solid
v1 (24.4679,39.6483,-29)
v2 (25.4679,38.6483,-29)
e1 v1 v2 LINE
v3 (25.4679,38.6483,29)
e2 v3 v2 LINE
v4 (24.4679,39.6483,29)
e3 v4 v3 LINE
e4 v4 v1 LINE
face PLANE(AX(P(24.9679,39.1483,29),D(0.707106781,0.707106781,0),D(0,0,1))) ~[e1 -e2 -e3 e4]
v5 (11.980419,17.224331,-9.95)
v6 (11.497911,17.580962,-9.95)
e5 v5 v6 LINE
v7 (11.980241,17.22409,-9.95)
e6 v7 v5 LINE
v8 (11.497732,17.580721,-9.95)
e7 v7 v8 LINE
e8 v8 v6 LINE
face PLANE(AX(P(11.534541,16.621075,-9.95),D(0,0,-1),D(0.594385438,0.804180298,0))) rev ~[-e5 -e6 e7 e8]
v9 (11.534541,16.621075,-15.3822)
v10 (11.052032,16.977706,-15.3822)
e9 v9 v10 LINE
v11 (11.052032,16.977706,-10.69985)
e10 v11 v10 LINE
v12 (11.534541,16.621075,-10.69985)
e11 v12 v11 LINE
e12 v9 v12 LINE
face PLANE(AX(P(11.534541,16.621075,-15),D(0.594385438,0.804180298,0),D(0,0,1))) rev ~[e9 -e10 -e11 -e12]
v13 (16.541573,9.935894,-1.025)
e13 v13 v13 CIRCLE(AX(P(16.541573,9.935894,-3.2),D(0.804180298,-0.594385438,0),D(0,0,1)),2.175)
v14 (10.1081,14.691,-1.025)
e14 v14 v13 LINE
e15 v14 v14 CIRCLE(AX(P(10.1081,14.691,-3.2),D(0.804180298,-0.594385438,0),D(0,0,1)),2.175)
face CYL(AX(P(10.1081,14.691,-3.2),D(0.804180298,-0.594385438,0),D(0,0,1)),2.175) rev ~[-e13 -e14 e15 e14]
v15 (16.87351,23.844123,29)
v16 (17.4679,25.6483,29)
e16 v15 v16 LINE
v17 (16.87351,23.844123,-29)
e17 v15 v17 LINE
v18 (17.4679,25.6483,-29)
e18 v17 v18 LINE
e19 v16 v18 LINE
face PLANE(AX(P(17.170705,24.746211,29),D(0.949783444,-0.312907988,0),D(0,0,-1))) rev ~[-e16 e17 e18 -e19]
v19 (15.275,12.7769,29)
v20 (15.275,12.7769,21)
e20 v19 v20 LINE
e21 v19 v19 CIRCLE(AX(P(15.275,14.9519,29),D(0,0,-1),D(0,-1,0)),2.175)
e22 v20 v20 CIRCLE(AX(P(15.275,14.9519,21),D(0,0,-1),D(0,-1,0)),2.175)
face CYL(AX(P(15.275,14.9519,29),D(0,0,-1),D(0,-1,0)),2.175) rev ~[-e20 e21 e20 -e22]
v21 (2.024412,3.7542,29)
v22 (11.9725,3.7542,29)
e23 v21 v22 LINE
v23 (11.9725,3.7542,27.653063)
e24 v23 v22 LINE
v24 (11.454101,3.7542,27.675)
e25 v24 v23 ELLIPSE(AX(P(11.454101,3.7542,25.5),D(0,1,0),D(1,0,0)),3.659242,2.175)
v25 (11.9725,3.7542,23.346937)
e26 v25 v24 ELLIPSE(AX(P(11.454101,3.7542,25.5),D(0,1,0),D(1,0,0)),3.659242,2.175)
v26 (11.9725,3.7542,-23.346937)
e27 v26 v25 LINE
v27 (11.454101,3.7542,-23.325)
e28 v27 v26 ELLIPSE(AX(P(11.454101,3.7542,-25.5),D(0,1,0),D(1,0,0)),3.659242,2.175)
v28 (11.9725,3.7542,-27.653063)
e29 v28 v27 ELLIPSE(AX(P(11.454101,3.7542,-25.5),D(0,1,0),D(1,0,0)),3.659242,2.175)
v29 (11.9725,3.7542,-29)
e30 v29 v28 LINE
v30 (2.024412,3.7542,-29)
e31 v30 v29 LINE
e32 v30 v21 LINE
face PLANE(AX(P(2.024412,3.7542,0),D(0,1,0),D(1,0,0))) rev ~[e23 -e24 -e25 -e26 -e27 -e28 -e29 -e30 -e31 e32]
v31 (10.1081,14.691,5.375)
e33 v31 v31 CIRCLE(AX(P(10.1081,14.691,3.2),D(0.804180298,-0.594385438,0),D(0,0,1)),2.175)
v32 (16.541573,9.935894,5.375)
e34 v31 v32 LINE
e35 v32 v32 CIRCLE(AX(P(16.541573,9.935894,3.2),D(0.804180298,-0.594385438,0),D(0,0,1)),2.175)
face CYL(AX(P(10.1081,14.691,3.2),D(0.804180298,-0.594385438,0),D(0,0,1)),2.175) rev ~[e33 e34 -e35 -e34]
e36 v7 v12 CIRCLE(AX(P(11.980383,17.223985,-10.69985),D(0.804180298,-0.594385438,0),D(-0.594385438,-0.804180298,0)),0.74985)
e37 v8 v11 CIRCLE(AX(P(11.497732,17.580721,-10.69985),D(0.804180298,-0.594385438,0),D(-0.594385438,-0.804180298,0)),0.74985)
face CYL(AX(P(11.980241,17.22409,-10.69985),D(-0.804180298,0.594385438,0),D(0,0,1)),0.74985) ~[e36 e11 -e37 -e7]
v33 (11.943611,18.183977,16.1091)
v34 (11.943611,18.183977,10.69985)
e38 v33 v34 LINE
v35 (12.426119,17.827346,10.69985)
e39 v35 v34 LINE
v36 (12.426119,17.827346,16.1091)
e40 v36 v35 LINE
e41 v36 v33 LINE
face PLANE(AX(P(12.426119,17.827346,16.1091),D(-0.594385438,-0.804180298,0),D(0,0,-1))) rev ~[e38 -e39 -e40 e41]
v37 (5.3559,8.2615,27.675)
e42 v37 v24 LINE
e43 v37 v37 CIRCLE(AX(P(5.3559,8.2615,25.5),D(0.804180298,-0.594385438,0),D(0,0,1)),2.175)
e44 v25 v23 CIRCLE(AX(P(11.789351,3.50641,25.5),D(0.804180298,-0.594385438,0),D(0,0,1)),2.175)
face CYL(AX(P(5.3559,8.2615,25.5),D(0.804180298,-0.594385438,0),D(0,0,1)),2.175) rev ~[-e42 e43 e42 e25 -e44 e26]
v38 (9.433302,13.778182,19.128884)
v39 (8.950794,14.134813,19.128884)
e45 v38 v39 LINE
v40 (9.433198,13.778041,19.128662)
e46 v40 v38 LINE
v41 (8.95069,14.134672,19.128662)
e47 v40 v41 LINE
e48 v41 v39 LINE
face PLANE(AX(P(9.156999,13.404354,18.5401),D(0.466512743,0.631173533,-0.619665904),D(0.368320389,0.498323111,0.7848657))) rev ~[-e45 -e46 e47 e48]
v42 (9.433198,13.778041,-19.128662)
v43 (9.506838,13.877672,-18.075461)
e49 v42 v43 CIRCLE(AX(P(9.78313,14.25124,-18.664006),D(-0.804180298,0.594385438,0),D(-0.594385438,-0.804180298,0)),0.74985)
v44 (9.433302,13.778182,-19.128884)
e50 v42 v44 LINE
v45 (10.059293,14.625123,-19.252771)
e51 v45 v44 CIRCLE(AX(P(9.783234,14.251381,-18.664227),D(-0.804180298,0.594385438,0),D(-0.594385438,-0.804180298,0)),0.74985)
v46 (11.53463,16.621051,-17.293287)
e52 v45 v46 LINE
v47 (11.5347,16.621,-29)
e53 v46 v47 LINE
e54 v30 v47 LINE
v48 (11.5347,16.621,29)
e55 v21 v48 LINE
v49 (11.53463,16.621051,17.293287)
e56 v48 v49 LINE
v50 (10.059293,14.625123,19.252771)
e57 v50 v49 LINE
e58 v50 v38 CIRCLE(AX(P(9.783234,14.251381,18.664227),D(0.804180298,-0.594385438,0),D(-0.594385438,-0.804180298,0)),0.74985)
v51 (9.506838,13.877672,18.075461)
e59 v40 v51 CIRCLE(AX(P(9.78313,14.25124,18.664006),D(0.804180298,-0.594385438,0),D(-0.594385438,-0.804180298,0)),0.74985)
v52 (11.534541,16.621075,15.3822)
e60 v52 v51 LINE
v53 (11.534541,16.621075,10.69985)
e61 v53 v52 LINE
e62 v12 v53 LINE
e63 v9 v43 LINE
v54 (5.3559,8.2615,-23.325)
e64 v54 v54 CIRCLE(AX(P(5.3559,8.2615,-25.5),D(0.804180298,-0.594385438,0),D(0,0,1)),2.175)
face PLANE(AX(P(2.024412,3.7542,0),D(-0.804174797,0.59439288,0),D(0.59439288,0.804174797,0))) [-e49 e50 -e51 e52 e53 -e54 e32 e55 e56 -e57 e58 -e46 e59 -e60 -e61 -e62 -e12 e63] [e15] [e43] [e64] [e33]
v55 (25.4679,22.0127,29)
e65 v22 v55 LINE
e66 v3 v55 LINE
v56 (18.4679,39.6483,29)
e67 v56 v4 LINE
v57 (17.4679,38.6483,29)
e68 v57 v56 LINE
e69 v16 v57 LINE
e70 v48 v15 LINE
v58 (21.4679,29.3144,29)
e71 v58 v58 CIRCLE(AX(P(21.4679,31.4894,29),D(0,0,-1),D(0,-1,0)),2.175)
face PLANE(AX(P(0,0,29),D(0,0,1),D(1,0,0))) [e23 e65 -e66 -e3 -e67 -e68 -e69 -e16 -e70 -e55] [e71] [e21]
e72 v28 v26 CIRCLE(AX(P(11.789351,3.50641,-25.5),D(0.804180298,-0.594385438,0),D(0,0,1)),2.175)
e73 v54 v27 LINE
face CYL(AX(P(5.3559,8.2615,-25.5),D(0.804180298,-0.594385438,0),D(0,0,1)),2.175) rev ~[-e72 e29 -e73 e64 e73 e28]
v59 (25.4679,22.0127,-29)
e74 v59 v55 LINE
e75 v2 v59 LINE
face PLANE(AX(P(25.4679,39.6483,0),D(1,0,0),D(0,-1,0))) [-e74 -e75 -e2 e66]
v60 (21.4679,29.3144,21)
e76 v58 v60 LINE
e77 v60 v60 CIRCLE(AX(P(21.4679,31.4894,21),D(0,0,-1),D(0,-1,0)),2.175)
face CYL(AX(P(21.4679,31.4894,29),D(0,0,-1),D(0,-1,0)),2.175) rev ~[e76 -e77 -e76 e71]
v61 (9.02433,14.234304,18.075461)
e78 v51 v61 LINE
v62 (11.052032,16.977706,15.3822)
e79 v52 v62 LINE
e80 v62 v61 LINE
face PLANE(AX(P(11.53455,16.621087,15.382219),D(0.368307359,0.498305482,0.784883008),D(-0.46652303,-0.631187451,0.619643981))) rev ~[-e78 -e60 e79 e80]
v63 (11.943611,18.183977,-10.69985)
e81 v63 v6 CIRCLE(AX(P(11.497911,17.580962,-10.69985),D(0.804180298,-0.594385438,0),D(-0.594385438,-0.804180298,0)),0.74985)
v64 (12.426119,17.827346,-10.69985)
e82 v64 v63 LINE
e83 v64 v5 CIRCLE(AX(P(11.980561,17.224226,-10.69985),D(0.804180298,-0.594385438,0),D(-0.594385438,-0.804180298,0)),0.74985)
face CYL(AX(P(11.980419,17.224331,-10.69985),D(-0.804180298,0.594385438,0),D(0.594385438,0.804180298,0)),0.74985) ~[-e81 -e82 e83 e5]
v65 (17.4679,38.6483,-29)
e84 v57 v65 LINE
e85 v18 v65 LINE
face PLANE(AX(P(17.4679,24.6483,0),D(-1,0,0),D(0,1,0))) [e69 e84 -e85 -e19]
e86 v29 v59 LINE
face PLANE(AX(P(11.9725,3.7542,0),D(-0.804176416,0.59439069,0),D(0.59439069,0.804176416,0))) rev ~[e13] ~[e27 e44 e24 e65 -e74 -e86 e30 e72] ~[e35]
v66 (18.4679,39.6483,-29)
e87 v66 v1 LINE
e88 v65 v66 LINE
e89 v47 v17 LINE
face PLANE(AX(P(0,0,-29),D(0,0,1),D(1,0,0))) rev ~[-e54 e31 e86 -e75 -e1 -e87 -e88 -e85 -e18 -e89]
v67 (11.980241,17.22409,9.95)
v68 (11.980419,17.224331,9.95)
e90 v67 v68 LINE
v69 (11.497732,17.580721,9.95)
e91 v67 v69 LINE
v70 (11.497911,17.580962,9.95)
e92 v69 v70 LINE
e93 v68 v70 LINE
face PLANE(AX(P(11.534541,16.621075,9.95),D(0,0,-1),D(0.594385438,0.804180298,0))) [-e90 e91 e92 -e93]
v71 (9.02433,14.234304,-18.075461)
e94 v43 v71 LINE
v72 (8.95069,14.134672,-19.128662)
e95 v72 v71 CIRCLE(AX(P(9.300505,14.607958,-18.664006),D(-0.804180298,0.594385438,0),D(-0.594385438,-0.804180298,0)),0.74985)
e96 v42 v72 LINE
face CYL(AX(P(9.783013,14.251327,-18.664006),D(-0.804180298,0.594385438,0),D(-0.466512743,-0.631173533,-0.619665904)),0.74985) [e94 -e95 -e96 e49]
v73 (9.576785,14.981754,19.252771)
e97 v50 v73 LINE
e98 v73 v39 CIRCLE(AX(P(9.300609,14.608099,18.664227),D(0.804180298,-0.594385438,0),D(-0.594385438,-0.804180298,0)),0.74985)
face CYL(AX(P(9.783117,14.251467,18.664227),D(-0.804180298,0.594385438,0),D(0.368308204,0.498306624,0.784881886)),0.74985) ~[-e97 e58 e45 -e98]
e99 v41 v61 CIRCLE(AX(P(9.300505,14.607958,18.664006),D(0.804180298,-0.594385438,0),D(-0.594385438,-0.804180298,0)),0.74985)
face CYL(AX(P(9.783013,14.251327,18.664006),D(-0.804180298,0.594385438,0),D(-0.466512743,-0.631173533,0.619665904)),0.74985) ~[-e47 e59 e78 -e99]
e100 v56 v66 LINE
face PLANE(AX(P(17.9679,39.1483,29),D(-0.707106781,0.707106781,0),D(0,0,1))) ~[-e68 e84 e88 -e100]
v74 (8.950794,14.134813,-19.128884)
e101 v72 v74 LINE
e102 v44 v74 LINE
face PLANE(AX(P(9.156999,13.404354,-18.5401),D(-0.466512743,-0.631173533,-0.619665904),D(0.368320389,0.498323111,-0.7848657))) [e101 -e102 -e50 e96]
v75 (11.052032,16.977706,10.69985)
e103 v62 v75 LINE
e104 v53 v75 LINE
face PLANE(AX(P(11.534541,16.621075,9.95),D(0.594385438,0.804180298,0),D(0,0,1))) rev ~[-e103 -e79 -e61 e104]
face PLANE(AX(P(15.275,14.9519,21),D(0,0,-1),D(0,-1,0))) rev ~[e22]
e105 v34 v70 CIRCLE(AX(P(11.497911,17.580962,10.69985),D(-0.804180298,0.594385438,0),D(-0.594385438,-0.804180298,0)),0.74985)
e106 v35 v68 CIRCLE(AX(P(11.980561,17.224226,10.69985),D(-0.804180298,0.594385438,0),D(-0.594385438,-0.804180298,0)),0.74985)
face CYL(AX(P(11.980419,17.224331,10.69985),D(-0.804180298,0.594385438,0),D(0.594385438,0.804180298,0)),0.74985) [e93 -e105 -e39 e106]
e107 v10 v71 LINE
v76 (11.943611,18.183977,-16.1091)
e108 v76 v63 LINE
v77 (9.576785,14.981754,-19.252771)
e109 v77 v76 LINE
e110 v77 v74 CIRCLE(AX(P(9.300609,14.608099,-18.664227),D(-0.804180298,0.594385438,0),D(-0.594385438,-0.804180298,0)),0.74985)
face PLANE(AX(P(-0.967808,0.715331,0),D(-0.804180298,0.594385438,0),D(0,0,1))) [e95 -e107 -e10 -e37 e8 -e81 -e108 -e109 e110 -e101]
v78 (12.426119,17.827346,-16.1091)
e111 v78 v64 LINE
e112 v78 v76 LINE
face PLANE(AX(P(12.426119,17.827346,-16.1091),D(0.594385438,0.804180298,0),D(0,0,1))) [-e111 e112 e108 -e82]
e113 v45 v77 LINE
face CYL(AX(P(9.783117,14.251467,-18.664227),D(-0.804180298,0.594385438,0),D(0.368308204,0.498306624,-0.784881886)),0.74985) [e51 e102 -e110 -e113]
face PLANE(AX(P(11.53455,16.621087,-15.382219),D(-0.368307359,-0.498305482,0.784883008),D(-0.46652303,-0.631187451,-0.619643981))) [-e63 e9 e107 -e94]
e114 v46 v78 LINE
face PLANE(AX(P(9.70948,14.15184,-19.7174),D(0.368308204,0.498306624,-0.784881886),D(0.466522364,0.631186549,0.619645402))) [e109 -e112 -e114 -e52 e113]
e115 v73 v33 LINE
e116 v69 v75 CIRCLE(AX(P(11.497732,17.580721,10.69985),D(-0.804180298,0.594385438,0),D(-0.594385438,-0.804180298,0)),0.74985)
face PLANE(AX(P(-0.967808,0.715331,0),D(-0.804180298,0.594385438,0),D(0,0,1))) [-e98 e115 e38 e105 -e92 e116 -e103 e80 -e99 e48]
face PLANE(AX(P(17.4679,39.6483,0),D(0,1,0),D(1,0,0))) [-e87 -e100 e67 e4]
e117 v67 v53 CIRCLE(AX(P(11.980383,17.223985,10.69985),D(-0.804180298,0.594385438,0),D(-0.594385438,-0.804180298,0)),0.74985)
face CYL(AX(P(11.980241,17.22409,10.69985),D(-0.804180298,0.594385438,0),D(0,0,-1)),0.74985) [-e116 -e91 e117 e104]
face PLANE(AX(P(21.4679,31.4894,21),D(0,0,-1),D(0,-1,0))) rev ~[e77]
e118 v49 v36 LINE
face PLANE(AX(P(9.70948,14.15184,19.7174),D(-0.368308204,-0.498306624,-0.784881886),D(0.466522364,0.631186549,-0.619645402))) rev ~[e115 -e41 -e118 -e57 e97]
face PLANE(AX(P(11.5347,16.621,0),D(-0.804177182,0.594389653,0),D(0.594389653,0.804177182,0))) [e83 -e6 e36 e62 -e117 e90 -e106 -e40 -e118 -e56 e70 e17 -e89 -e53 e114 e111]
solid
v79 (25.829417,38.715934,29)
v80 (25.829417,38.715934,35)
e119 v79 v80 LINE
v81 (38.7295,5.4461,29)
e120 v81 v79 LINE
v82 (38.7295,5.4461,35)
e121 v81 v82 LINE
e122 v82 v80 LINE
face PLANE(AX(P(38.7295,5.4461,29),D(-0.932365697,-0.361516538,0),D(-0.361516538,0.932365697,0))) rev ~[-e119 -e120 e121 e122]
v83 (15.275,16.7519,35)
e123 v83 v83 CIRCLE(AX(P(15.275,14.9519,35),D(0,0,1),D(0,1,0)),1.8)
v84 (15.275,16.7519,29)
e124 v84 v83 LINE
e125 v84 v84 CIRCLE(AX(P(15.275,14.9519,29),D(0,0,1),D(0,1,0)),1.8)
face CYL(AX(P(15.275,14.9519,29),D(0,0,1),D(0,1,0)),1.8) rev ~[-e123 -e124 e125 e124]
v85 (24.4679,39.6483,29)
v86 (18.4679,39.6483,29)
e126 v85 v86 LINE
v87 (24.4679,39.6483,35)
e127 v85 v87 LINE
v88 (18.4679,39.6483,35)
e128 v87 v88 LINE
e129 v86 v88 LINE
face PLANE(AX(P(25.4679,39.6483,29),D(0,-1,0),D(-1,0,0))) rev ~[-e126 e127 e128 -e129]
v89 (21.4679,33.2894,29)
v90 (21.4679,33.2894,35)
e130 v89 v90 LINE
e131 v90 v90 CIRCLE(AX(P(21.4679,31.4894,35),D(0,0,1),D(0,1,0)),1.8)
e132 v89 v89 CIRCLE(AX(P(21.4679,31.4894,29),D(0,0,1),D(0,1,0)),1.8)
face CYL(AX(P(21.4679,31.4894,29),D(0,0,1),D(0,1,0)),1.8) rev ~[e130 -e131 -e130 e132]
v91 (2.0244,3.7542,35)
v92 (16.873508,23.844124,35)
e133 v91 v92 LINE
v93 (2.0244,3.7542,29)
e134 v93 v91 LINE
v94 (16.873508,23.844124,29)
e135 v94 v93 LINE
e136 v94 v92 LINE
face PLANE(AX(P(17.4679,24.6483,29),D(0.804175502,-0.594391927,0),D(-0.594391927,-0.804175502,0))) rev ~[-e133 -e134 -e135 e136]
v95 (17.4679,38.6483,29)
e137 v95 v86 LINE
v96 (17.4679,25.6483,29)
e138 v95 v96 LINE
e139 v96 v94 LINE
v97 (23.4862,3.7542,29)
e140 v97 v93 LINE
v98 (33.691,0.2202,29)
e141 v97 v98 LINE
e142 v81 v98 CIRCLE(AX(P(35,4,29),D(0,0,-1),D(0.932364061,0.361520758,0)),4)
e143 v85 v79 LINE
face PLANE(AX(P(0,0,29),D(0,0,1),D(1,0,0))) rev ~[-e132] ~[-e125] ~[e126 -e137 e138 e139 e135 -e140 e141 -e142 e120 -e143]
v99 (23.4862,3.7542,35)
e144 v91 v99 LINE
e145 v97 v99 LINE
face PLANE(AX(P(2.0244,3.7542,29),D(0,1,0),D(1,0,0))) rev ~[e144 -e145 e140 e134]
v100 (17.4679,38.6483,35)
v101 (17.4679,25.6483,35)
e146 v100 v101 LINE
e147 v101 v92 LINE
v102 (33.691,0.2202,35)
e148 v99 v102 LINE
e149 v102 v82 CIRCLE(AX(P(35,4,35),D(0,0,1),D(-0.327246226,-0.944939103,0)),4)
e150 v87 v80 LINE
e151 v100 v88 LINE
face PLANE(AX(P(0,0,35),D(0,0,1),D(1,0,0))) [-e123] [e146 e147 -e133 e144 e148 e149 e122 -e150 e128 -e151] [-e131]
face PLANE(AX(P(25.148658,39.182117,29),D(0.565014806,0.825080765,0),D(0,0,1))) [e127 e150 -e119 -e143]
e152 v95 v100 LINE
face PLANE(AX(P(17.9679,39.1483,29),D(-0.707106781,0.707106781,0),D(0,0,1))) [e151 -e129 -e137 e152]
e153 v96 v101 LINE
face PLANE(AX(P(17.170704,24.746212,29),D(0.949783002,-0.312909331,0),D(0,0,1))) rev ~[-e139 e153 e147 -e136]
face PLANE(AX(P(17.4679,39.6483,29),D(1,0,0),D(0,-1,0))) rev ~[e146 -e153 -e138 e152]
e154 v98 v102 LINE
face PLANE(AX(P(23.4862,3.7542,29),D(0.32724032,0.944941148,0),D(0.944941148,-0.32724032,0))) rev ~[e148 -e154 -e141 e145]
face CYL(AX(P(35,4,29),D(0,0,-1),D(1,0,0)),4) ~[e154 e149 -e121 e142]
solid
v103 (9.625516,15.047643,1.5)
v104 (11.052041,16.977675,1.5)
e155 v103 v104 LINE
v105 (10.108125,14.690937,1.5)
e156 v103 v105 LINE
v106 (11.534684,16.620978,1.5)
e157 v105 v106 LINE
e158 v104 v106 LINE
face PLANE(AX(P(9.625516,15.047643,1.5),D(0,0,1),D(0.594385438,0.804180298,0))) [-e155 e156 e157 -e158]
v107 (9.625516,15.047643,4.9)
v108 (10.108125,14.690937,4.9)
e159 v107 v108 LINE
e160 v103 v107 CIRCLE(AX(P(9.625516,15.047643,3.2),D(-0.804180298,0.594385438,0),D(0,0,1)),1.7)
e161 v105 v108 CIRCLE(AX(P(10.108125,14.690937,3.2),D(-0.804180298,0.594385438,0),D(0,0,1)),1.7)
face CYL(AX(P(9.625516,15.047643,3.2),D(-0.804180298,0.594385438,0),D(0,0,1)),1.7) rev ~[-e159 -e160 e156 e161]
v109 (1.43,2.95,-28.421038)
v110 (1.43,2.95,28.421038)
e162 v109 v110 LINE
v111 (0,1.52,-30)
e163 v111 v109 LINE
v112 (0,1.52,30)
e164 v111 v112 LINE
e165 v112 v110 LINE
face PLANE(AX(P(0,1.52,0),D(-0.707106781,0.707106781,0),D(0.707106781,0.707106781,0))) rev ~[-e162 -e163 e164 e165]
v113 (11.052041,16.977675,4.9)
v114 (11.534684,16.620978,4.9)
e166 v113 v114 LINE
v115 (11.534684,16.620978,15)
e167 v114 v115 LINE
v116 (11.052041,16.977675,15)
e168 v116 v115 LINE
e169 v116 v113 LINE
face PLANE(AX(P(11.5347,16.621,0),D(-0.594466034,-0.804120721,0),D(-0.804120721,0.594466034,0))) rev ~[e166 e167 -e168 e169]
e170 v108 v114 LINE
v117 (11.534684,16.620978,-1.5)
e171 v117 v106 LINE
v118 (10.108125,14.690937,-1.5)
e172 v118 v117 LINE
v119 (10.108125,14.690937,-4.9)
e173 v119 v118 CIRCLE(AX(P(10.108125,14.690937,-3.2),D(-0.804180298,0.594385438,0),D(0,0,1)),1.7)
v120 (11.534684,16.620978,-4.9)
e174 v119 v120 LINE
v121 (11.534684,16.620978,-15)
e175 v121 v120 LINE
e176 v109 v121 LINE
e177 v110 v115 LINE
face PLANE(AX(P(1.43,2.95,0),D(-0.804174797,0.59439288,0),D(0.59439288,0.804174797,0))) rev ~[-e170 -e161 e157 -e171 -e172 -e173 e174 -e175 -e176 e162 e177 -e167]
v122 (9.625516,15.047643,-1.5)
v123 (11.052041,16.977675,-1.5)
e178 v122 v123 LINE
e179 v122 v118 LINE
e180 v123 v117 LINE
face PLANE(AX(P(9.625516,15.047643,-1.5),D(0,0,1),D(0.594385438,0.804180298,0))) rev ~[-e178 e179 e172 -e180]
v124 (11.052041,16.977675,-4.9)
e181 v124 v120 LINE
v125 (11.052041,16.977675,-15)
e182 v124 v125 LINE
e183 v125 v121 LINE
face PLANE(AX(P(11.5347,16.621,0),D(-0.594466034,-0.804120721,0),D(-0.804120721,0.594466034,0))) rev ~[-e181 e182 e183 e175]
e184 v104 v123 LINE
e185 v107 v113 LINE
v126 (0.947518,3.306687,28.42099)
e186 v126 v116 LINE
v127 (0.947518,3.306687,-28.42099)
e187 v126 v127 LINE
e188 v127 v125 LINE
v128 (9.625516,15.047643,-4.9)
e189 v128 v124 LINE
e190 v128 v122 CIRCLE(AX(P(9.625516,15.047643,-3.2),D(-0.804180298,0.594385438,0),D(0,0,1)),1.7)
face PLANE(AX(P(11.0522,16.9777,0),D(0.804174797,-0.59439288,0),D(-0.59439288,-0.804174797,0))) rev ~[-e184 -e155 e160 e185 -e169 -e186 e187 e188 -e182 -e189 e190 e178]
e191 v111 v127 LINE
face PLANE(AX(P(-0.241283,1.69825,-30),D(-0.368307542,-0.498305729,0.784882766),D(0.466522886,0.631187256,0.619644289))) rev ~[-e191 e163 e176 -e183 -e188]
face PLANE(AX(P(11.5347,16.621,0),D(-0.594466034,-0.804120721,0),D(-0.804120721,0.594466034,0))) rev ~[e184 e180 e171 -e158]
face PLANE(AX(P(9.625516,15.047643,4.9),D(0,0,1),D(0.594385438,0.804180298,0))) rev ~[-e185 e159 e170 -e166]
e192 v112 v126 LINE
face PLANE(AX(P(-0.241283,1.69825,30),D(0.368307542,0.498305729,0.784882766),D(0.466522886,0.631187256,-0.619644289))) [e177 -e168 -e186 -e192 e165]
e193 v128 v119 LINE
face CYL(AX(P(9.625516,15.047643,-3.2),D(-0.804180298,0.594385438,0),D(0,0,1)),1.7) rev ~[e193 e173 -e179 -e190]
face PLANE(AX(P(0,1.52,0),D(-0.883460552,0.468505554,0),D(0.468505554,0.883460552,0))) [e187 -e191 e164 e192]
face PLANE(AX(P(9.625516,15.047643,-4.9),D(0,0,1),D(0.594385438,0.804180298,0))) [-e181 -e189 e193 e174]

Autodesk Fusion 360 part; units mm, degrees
sketch "Blade Stock Layout and Angle setting" plane through (0, 0, 0) normal (0, 0, 1) x (1, 0, 0) in component "Blade"
  line L0 (0, 1.52) -> (0.9475, 3.3067)
  line L1 (0, 1.52) -> (1.43, 2.95)
  line L2 (0.9475, 3.3067) -> (1.43, 2.95) construction
  line L3 (1.43, 2.95) -> (11.5347, 16.621)
  line L4 (11.5347, 16.621) -> (11.0522, 16.9777)
  line L5 (11.0522, 16.9777) -> (0.9475, 3.3067)
  line L6 (0, 1.52) -> (0, 0) construction
  line L7 (0, 0) -> (17.3611, 0) construction
  dimension "d6" = 1.52
  dimension "d8" = 0.6
  dimension "d9" = 2
  dimension "d10" = 19
  dimension "d11" = 45
extrude "Blade Stock" add sketch "Blade Stock Layout and Angle setting" along normal mid plane 60 makes body 1 in component "Blade"
sketch "Blade profile" plane through (-0.9678, 0.7153, 0) normal (-0.8042, 0.5944, 0) x (0, 0, 1) in component "Blade"
  line L0 (-30, 20.2223) -> (-30, 3.2223)
  line L1 (-30, 3.2223) -> (30, 3.2223) construction
  line L2 (30, 3.2223) -> (30, 20.2223)
  line L3 (30, 20.2223) -> (-30, 20.2223)
  line L4 (0, 20.2223) -> (0, 3.2223) construction
  line L5 (30, 1.2223) -> (15, 20.2223)
  circle A0 centre (3.2, 17.8223) radius 1.7
  line L6 (1.5, 17.8223) -> (1.5, 20.2223)
  line L7 (4.9, 17.8223) -> (4.9, 20.2223)
  line L8 (3.2, 20.2223) -> (3.2, 16.1223) construction
  circle A1 centre (-3.2, 17.8223) radius 1.7
  line L9 (-1.5, 17.8223) -> (-1.5, 20.2223)
  line L10 (-4.9, 17.8223) -> (-4.9, 20.2223)
  line L11 (-30, 1.2223) -> (-15, 20.2223)
  line L12 (30, 1.2223) -> (30, 3.2223)
  line L13 (-30, 1.2223) -> (-30, 3.2223)
  point P0 (30, 1.2223)
  dimension "d20" = 15
  dimension "d21" = 3.4
  dimension "d22" = 1.5
  dimension "d23" = 4.1
extrude "Blaade profile" cut sketch "Blade profile" against normal through all bodies 1 in component "Blade"
sketch "Blade Holder Stock Layout" plane through (0, 0, 0) normal (0, 0, 1) x (1, 0, 0) in component "Blade Holder"
  line L0 (0.9475, 3.3067) -> (0, 1.52)
  line L1 (0, 1.52) -> (1.43, 2.95)
  line L2 (1.43, 2.95) -> (11.5347, 16.621)
  line L3 (11.5347, 16.621) -> (11.0522, 16.9777)
  line L4 (11.0522, 16.9777) -> (0.9475, 3.3067)
  line L5 (1.2783, 3.7542) -> (11.9725, 3.7542)
  line L6 (11.9725, 3.7542) -> (25.4679, 22.0127)
  line L7 (11.5347, 16.621) -> (17.4679, 24.6483)
  line L8 (17.4679, 24.6483) -> (17.4679, 39.6483)
  line L9 (17.4679, 39.6483) -> (25.4679, 39.6483)
  line L10 (25.4679, 39.6483) -> (25.4679, 22.0127)
  line L11 (17.4679, 24.6483) -> (25.4679, 24.6483) construction
  line L12 (17.4679, 24.6483) -> (23.9013, 19.8932) construction
  line L13 (11.5347, 16.621) -> (1.43, 2.95)
  point P0 (2.0244, 3.7542)
  dimension "d30" = 8
  dimension "d31" = 15
  dimension "d32" = 10
  dimension "d40" = 1
extrude "Blade Holder Stock" add sketch "Blade Holder Stock Layout" along normal mid plane 58 separate body contours L2 L5 L6 L7 L8 L9 L10 L13 makes body 2 in component "Blade Holder"
sketch "Blade holder lateral stops layout" plane through (-0.4853, 0.3587, 0) normal (-0.8042, 0.5944, 0) x (0, 0, 1) in component "Blade Holder"
  line L0 (-29, 4.2223) -> (29, 4.2223)
  line L1 (29, 4.2223) -> (29, 30.2043)
  line L2 (-29, 30.2043) -> (-29, 4.2223)
  line L3 (28.4211, 3.2223) -> (15, 20.2223)
  line L4 (14.9301, 20.795) -> (28.0138, 4.2223)
  line L5 (0, 1.4073) -> (0, 18.094)
  line L6 (-14.9301, 20.795) -> (-28.0138, 4.2223)
  circle A0 centre (25.5, 9.8272) radius 1.5 construction
  line L7 (25.5, 9.8272) -> (27, 9.8272) construction
  line L8 (27, 9.8272) -> (29, 9.8272) construction
  line L9 (29, 30.2043) -> (-29, 30.2043)
  line L10 (4.9, 20.2223) -> (15, 20.2223)
  line L11 (-1.5, 20.2223) -> (1.5, 20.2223) construction
  line L12 (-15, 20.2223) -> (-4.9, 20.2223)
  line L13 (4.9, 20.2223) -> (1.5, 20.2223) construction
  line L14 (-1.5, 20.2223) -> (-4.9, 20.2223) construction
  line L15 (15, 20.2223) -> (15.3822, 20.2223)
  line L16 (-15, 20.2223) -> (-15.3822, 20.2223)
  line L17 (18.5401, 16.2223) -> (19.7174, 17.1518)
  line L18 (19.7174, 17.1518) -> (16.1091, 21.7223)
  line L19 (16.1091, 21.7223) -> (0, 21.7223)
  line L20 (0, 21.7223) -> (0, 20.2223) construction
  line L21 (-16.1091, 21.7223) -> (0, 21.7223)
  line L22 (-19.7174, 17.1518) -> (-16.1091, 21.7223)
  line L23 (-18.5401, 16.2223) -> (-19.7174, 17.1518)
  line L24 (9.95, 20.2223) -> (9.95, 21.7223)
  line L25 (-9.95, 20.2223) -> (-9.95, 21.7223)
  dimension "d42" = 0.3
  dimension "d93" = 3
  dimension "d94" = 2
  dimension "d95" = 1.5
  dimension "d97" = 4
extrude "Extrude3" add sketch "Blade holder lateral stops layout" along normal up to surface (0.6 mm away) contours L6 L12 L16 L21 L22 L23 L25 | L4 L10 L15 L17 L18 L19 L24 bodies 2 in component "Blade Holder"
sketch "Blade hole layout in holder" plane through (-0.4853, 0.3587, 0) normal (-0.8042, 0.5944, 0) x (0, 0, 1) in component "Blade Holder"
  line L0 (-29, 4.2223) -> (29, 4.2223)
  arc A0 (-4.9, 17.8223) -> (-1.5, 17.8223) centre (-3.2, 17.8223) ccw
  arc A1 (1.5, 17.8223) -> (4.9, 17.8223) centre (3.2, 17.8223) ccw
  line L1 (-29, 30.2043) -> (-29, 4.2223)
  circle A2 centre (25.5, 9.8272) radius 1.5 construction
  line L2 (0, 1.4073) -> (0, 18.094)
  circle A3 centre (-25.5, 9.8272) radius 1.5 construction
  line L3 (29, 4.2223) -> (29, 30.2043)
  line L4 (29, 30.2043) -> (-29, 30.2043)
  line L5 (15.3822, 20.2223) -> (9.95, 20.2223)
  line L6 (9.95, 20.2223) -> (9.95, 21.7223)
  line L7 (9.95, 21.7223) -> (16.1091, 21.7223)
  line L8 (16.1091, 21.7223) -> (19.7174, 17.1518)
  line L9 (-19.7174, 17.1518) -> (-16.1091, 21.7223)
  line L10 (-16.1091, 21.7223) -> (-9.95, 21.7223)
  line L11 (-9.95, 21.7223) -> (-9.95, 20.2223)
  line L12 (-9.95, 20.2223) -> (-15.3822, 20.2223)
  line L13 (-15.3822, 20.2223) -> (-18.5401, 16.2223)
  line L14 (-18.5401, 16.2223) -> (-19.7174, 17.1518)
  line L15 (19.7174, 17.1518) -> (18.5401, 16.2223)
  line L16 (18.5401, 16.2223) -> (15.3822, 20.2223)
hole "Hole1" at (10.1081, 14.691, -3.2) at (10.1081, 14.691, 3.2) at (5.3559, 8.2615, 25.5) at (5.3559, 8.2615, -25.5) direction (0.8042, -0.5944, 0) diameter 4.35 end through all bodies 2 2 in component "Blade Holder"
sketch "Support Arm Stock Layout" plane through (0, 0, 29) normal (0, 0, 1) x (1, 0, 0) in component "Support Arm"
  line L0 (17.4679, 24.6483) -> (2.0244, 3.7542)
  line L1 (2.0244, 3.7542) -> (11.9725, 3.7542)
  line L2 (11.9725, 3.7542) -> (25.4679, 22.0127)
  line L3 (25.4679, 22.0127) -> (25.4679, 39.6483)
  line L4 (25.4679, 39.6483) -> (17.4679, 39.6483)
  line L5 (17.4679, 39.6483) -> (17.4679, 24.6483)
  line L6 (0, 0) -> (35, 0) construction
  line L7 (38.7295, 5.4461) -> (25.4679, 39.6483)
  circle A0 centre (35, 4) radius 4
  line L8 (23.4862, 3.7542) -> (33.691, 0.2202)
  line L9 (11.9725, 3.7542) -> (35, 3.7542) construction
  line L10 (35, 3.7542) -> (35, 4) construction
  line L11 (23.4862, 3.7542) -> (11.9725, 3.7542)
  line L12 (17.4679, 32.1483) -> (25.4679, 30.8305) construction
  line L13 (12.0583, 17.3295) -> (18.4917, 12.5743) construction
  line L14 (4.0631, 6.5124) -> (6.6487, 10.0106)
  line L15 (6.6487, 10.0106) -> (17.4679, 24.6483)
  point P0 (21.4679, 31.4894)
  point P1 (15.275, 14.9519)
  dimension "d58" = 8
  dimension "d61" = 35
extrude "Support Arm Stock" add sketch "Support Arm Stock Layout" along normal blind 6 separate body makes body 3 in component "Support Arm"
hole "Hole1'" at (15.275, 14.9519, 29) at (21.4679, 31.4894, 29) direction (0, 0, 1) diameter 3.6 end through all bodies 3 3 in component "Support Arm"
sketch "Support arm hole layout in holder" plane through (0, 0, 29) normal (0, 0, 1) x (1, 0, 0) in component "Blade Holder"
  line L0 (17.4679, 24.6483) -> (2.0244, 3.7542)
  line L1 (2.0244, 3.7542) -> (11.9725, 3.7542)
  line L2 (11.9725, 3.7542) -> (25.4679, 22.0127)
  line L3 (25.4679, 22.0127) -> (25.4679, 39.6483)
  line L4 (25.4679, 39.6483) -> (17.4679, 39.6483)
  line L5 (17.4679, 39.6483) -> (17.4679, 24.6483)
  circle A0 centre (21.4679, 31.4894) radius 1.8
  circle A1 centre (15.275, 14.9519) radius 1.8
hole "support arm holes in holder" at (21.4679, 31.4894, 29) at (15.275, 14.9519, 29) direction (0, 0, -1) diameter 4.35 depth 8 tip angle 180 bodies 2 in component "Blade Holder"
chamfer "Support Arm chamfers" distance 1 angle 45 3 edges at (17.4679, 39.6483, 32) (25.4679, 39.6483, 32) (17.4679, 24.6483, 32) on bodies 3 in component "Support Arm"
chamfer "Blade Holder Chamfers" distance 1 angle 45 3 edges at (17.4679, 39.6483, 0) (17.4679, 24.6483, 0) (25.4679, 39.6483, 0) on bodies 2 in component "Blade Holder"
fillet "lateral Stops Fillets" radius 0.75 4 edges at (9.4683, 14.3301, 19.7174) (8.9159, 13.5826, 18.5401) (11.2934, 16.7993, 9.95) (12.185, 18.0056, 9.95) on bodies 2 in component "Blade Holder"
fillet "lateral Stops Fillets" radius 0.75 4 edges at (8.9159, 13.5826, -18.5401) (11.2934, 16.7993, -9.95) (12.185, 18.0056, -9.95) (9.4683, 14.3301, -19.7174) on bodies 2 in component "Blade Holder"
component "Blade" placed x (1, 0, 0) y (0, 1, 0) z (0, 0, 1) at (0, 0, 0)
component "Blade Holder" placed x (1, 0, 0) y (0, 1, 0) z (0, 0, 1) at (0, 0, 0)
component "Support Arm" placed x (1, 0, 0) y (0, 1, 0) z (0, 0, 1) at (0, 0, 0)
equation "blade_thickness = 0.6 mm"
equation "blade_width = 19 mm"
equation "edge_width = 2 mm"
equation "blade_height = 1.52 mm"
equation "d6 = blade_height"
equation "d8 = blade_thickness"
equation "d9 = edge_width"
equation "d10 = blade_width"
equation "d11 = blade_angle"
equation "blade_angle = 45 deg"
equation "edge_length = 60 mm"
equation "d14 = edge_length"
equation "blade_body_length = 30 mm"
equation "blade_cutout_depth = 4.1 mm"
equation "blade_cutout_width = 3.4 mm"
equation "blade_tab_width = 3 mm"
equation "d20 = blade_body_length / 2"
equation "d21 = blade_cutout_width"
equation "d22 = blade_tab_width / 2"
equation "d23 = blade_cutout_depth"
equation "handle_thickness = 8 mm"
equation "edge_holder_offset = 1 mm"
equation "handle_height = 15 mm"
equation "edge_handle_offset = 10 mm"
equation "d30 = handle_thickness"
equation "d31 = handle_height"
equation "d32 = edge_handle_offset"
equation "blade_holder_length = 58 mm"
equation "d34 = blade_holder_length"
equation "blade_width_offset = 0.3 mm"
equation "d40 = edge_holder_offset"
equation "d42 = blade_width_offset"
equation "M3_threaded_insert_diameter = 4.35 mm"
equation "M3_threaded_insert_depth = 8 mm"
equation "d48 = M3_threaded_insert_diameter"
equation "support_arm_thickness = 6 mm"
equation "support_arm_edge_separation = 35 mm"
equation "support_arm_radius = 4 mm"
equation "d58 = support_arm_radius * 2"
equation "d61 = support_arm_edge_separation"
equation "d62 = support_arm_thickness"
equation "M3_clearance_diameter = 3.6 mm"
equation "d66 = M3_clearance_diameter"
equation "d68 = M3_threaded_insert_depth"
equation "d69 = M3_threaded_insert_diameter"
equation "bladeClampWidthOffsets = 1 mm"
equation "blade_clamp_height_offset = 1 mm"
equation "blade_clamp_height_extent = 2 mm"
equation "clamp_thickness = 8 mm"
equation "clamp_chamfer = 5 mm"
equation "d94 = side_bolt_offset"
equation "d95 = lateral_stop_width"
equation "d97 = lateral_stop_vertical_extent"
equation "lateral_stop_width = 1.5 mm"
equation "lateral_stop_vertical_extent = 4 mm"
equation "side_bolt_offset = 2 mm"
